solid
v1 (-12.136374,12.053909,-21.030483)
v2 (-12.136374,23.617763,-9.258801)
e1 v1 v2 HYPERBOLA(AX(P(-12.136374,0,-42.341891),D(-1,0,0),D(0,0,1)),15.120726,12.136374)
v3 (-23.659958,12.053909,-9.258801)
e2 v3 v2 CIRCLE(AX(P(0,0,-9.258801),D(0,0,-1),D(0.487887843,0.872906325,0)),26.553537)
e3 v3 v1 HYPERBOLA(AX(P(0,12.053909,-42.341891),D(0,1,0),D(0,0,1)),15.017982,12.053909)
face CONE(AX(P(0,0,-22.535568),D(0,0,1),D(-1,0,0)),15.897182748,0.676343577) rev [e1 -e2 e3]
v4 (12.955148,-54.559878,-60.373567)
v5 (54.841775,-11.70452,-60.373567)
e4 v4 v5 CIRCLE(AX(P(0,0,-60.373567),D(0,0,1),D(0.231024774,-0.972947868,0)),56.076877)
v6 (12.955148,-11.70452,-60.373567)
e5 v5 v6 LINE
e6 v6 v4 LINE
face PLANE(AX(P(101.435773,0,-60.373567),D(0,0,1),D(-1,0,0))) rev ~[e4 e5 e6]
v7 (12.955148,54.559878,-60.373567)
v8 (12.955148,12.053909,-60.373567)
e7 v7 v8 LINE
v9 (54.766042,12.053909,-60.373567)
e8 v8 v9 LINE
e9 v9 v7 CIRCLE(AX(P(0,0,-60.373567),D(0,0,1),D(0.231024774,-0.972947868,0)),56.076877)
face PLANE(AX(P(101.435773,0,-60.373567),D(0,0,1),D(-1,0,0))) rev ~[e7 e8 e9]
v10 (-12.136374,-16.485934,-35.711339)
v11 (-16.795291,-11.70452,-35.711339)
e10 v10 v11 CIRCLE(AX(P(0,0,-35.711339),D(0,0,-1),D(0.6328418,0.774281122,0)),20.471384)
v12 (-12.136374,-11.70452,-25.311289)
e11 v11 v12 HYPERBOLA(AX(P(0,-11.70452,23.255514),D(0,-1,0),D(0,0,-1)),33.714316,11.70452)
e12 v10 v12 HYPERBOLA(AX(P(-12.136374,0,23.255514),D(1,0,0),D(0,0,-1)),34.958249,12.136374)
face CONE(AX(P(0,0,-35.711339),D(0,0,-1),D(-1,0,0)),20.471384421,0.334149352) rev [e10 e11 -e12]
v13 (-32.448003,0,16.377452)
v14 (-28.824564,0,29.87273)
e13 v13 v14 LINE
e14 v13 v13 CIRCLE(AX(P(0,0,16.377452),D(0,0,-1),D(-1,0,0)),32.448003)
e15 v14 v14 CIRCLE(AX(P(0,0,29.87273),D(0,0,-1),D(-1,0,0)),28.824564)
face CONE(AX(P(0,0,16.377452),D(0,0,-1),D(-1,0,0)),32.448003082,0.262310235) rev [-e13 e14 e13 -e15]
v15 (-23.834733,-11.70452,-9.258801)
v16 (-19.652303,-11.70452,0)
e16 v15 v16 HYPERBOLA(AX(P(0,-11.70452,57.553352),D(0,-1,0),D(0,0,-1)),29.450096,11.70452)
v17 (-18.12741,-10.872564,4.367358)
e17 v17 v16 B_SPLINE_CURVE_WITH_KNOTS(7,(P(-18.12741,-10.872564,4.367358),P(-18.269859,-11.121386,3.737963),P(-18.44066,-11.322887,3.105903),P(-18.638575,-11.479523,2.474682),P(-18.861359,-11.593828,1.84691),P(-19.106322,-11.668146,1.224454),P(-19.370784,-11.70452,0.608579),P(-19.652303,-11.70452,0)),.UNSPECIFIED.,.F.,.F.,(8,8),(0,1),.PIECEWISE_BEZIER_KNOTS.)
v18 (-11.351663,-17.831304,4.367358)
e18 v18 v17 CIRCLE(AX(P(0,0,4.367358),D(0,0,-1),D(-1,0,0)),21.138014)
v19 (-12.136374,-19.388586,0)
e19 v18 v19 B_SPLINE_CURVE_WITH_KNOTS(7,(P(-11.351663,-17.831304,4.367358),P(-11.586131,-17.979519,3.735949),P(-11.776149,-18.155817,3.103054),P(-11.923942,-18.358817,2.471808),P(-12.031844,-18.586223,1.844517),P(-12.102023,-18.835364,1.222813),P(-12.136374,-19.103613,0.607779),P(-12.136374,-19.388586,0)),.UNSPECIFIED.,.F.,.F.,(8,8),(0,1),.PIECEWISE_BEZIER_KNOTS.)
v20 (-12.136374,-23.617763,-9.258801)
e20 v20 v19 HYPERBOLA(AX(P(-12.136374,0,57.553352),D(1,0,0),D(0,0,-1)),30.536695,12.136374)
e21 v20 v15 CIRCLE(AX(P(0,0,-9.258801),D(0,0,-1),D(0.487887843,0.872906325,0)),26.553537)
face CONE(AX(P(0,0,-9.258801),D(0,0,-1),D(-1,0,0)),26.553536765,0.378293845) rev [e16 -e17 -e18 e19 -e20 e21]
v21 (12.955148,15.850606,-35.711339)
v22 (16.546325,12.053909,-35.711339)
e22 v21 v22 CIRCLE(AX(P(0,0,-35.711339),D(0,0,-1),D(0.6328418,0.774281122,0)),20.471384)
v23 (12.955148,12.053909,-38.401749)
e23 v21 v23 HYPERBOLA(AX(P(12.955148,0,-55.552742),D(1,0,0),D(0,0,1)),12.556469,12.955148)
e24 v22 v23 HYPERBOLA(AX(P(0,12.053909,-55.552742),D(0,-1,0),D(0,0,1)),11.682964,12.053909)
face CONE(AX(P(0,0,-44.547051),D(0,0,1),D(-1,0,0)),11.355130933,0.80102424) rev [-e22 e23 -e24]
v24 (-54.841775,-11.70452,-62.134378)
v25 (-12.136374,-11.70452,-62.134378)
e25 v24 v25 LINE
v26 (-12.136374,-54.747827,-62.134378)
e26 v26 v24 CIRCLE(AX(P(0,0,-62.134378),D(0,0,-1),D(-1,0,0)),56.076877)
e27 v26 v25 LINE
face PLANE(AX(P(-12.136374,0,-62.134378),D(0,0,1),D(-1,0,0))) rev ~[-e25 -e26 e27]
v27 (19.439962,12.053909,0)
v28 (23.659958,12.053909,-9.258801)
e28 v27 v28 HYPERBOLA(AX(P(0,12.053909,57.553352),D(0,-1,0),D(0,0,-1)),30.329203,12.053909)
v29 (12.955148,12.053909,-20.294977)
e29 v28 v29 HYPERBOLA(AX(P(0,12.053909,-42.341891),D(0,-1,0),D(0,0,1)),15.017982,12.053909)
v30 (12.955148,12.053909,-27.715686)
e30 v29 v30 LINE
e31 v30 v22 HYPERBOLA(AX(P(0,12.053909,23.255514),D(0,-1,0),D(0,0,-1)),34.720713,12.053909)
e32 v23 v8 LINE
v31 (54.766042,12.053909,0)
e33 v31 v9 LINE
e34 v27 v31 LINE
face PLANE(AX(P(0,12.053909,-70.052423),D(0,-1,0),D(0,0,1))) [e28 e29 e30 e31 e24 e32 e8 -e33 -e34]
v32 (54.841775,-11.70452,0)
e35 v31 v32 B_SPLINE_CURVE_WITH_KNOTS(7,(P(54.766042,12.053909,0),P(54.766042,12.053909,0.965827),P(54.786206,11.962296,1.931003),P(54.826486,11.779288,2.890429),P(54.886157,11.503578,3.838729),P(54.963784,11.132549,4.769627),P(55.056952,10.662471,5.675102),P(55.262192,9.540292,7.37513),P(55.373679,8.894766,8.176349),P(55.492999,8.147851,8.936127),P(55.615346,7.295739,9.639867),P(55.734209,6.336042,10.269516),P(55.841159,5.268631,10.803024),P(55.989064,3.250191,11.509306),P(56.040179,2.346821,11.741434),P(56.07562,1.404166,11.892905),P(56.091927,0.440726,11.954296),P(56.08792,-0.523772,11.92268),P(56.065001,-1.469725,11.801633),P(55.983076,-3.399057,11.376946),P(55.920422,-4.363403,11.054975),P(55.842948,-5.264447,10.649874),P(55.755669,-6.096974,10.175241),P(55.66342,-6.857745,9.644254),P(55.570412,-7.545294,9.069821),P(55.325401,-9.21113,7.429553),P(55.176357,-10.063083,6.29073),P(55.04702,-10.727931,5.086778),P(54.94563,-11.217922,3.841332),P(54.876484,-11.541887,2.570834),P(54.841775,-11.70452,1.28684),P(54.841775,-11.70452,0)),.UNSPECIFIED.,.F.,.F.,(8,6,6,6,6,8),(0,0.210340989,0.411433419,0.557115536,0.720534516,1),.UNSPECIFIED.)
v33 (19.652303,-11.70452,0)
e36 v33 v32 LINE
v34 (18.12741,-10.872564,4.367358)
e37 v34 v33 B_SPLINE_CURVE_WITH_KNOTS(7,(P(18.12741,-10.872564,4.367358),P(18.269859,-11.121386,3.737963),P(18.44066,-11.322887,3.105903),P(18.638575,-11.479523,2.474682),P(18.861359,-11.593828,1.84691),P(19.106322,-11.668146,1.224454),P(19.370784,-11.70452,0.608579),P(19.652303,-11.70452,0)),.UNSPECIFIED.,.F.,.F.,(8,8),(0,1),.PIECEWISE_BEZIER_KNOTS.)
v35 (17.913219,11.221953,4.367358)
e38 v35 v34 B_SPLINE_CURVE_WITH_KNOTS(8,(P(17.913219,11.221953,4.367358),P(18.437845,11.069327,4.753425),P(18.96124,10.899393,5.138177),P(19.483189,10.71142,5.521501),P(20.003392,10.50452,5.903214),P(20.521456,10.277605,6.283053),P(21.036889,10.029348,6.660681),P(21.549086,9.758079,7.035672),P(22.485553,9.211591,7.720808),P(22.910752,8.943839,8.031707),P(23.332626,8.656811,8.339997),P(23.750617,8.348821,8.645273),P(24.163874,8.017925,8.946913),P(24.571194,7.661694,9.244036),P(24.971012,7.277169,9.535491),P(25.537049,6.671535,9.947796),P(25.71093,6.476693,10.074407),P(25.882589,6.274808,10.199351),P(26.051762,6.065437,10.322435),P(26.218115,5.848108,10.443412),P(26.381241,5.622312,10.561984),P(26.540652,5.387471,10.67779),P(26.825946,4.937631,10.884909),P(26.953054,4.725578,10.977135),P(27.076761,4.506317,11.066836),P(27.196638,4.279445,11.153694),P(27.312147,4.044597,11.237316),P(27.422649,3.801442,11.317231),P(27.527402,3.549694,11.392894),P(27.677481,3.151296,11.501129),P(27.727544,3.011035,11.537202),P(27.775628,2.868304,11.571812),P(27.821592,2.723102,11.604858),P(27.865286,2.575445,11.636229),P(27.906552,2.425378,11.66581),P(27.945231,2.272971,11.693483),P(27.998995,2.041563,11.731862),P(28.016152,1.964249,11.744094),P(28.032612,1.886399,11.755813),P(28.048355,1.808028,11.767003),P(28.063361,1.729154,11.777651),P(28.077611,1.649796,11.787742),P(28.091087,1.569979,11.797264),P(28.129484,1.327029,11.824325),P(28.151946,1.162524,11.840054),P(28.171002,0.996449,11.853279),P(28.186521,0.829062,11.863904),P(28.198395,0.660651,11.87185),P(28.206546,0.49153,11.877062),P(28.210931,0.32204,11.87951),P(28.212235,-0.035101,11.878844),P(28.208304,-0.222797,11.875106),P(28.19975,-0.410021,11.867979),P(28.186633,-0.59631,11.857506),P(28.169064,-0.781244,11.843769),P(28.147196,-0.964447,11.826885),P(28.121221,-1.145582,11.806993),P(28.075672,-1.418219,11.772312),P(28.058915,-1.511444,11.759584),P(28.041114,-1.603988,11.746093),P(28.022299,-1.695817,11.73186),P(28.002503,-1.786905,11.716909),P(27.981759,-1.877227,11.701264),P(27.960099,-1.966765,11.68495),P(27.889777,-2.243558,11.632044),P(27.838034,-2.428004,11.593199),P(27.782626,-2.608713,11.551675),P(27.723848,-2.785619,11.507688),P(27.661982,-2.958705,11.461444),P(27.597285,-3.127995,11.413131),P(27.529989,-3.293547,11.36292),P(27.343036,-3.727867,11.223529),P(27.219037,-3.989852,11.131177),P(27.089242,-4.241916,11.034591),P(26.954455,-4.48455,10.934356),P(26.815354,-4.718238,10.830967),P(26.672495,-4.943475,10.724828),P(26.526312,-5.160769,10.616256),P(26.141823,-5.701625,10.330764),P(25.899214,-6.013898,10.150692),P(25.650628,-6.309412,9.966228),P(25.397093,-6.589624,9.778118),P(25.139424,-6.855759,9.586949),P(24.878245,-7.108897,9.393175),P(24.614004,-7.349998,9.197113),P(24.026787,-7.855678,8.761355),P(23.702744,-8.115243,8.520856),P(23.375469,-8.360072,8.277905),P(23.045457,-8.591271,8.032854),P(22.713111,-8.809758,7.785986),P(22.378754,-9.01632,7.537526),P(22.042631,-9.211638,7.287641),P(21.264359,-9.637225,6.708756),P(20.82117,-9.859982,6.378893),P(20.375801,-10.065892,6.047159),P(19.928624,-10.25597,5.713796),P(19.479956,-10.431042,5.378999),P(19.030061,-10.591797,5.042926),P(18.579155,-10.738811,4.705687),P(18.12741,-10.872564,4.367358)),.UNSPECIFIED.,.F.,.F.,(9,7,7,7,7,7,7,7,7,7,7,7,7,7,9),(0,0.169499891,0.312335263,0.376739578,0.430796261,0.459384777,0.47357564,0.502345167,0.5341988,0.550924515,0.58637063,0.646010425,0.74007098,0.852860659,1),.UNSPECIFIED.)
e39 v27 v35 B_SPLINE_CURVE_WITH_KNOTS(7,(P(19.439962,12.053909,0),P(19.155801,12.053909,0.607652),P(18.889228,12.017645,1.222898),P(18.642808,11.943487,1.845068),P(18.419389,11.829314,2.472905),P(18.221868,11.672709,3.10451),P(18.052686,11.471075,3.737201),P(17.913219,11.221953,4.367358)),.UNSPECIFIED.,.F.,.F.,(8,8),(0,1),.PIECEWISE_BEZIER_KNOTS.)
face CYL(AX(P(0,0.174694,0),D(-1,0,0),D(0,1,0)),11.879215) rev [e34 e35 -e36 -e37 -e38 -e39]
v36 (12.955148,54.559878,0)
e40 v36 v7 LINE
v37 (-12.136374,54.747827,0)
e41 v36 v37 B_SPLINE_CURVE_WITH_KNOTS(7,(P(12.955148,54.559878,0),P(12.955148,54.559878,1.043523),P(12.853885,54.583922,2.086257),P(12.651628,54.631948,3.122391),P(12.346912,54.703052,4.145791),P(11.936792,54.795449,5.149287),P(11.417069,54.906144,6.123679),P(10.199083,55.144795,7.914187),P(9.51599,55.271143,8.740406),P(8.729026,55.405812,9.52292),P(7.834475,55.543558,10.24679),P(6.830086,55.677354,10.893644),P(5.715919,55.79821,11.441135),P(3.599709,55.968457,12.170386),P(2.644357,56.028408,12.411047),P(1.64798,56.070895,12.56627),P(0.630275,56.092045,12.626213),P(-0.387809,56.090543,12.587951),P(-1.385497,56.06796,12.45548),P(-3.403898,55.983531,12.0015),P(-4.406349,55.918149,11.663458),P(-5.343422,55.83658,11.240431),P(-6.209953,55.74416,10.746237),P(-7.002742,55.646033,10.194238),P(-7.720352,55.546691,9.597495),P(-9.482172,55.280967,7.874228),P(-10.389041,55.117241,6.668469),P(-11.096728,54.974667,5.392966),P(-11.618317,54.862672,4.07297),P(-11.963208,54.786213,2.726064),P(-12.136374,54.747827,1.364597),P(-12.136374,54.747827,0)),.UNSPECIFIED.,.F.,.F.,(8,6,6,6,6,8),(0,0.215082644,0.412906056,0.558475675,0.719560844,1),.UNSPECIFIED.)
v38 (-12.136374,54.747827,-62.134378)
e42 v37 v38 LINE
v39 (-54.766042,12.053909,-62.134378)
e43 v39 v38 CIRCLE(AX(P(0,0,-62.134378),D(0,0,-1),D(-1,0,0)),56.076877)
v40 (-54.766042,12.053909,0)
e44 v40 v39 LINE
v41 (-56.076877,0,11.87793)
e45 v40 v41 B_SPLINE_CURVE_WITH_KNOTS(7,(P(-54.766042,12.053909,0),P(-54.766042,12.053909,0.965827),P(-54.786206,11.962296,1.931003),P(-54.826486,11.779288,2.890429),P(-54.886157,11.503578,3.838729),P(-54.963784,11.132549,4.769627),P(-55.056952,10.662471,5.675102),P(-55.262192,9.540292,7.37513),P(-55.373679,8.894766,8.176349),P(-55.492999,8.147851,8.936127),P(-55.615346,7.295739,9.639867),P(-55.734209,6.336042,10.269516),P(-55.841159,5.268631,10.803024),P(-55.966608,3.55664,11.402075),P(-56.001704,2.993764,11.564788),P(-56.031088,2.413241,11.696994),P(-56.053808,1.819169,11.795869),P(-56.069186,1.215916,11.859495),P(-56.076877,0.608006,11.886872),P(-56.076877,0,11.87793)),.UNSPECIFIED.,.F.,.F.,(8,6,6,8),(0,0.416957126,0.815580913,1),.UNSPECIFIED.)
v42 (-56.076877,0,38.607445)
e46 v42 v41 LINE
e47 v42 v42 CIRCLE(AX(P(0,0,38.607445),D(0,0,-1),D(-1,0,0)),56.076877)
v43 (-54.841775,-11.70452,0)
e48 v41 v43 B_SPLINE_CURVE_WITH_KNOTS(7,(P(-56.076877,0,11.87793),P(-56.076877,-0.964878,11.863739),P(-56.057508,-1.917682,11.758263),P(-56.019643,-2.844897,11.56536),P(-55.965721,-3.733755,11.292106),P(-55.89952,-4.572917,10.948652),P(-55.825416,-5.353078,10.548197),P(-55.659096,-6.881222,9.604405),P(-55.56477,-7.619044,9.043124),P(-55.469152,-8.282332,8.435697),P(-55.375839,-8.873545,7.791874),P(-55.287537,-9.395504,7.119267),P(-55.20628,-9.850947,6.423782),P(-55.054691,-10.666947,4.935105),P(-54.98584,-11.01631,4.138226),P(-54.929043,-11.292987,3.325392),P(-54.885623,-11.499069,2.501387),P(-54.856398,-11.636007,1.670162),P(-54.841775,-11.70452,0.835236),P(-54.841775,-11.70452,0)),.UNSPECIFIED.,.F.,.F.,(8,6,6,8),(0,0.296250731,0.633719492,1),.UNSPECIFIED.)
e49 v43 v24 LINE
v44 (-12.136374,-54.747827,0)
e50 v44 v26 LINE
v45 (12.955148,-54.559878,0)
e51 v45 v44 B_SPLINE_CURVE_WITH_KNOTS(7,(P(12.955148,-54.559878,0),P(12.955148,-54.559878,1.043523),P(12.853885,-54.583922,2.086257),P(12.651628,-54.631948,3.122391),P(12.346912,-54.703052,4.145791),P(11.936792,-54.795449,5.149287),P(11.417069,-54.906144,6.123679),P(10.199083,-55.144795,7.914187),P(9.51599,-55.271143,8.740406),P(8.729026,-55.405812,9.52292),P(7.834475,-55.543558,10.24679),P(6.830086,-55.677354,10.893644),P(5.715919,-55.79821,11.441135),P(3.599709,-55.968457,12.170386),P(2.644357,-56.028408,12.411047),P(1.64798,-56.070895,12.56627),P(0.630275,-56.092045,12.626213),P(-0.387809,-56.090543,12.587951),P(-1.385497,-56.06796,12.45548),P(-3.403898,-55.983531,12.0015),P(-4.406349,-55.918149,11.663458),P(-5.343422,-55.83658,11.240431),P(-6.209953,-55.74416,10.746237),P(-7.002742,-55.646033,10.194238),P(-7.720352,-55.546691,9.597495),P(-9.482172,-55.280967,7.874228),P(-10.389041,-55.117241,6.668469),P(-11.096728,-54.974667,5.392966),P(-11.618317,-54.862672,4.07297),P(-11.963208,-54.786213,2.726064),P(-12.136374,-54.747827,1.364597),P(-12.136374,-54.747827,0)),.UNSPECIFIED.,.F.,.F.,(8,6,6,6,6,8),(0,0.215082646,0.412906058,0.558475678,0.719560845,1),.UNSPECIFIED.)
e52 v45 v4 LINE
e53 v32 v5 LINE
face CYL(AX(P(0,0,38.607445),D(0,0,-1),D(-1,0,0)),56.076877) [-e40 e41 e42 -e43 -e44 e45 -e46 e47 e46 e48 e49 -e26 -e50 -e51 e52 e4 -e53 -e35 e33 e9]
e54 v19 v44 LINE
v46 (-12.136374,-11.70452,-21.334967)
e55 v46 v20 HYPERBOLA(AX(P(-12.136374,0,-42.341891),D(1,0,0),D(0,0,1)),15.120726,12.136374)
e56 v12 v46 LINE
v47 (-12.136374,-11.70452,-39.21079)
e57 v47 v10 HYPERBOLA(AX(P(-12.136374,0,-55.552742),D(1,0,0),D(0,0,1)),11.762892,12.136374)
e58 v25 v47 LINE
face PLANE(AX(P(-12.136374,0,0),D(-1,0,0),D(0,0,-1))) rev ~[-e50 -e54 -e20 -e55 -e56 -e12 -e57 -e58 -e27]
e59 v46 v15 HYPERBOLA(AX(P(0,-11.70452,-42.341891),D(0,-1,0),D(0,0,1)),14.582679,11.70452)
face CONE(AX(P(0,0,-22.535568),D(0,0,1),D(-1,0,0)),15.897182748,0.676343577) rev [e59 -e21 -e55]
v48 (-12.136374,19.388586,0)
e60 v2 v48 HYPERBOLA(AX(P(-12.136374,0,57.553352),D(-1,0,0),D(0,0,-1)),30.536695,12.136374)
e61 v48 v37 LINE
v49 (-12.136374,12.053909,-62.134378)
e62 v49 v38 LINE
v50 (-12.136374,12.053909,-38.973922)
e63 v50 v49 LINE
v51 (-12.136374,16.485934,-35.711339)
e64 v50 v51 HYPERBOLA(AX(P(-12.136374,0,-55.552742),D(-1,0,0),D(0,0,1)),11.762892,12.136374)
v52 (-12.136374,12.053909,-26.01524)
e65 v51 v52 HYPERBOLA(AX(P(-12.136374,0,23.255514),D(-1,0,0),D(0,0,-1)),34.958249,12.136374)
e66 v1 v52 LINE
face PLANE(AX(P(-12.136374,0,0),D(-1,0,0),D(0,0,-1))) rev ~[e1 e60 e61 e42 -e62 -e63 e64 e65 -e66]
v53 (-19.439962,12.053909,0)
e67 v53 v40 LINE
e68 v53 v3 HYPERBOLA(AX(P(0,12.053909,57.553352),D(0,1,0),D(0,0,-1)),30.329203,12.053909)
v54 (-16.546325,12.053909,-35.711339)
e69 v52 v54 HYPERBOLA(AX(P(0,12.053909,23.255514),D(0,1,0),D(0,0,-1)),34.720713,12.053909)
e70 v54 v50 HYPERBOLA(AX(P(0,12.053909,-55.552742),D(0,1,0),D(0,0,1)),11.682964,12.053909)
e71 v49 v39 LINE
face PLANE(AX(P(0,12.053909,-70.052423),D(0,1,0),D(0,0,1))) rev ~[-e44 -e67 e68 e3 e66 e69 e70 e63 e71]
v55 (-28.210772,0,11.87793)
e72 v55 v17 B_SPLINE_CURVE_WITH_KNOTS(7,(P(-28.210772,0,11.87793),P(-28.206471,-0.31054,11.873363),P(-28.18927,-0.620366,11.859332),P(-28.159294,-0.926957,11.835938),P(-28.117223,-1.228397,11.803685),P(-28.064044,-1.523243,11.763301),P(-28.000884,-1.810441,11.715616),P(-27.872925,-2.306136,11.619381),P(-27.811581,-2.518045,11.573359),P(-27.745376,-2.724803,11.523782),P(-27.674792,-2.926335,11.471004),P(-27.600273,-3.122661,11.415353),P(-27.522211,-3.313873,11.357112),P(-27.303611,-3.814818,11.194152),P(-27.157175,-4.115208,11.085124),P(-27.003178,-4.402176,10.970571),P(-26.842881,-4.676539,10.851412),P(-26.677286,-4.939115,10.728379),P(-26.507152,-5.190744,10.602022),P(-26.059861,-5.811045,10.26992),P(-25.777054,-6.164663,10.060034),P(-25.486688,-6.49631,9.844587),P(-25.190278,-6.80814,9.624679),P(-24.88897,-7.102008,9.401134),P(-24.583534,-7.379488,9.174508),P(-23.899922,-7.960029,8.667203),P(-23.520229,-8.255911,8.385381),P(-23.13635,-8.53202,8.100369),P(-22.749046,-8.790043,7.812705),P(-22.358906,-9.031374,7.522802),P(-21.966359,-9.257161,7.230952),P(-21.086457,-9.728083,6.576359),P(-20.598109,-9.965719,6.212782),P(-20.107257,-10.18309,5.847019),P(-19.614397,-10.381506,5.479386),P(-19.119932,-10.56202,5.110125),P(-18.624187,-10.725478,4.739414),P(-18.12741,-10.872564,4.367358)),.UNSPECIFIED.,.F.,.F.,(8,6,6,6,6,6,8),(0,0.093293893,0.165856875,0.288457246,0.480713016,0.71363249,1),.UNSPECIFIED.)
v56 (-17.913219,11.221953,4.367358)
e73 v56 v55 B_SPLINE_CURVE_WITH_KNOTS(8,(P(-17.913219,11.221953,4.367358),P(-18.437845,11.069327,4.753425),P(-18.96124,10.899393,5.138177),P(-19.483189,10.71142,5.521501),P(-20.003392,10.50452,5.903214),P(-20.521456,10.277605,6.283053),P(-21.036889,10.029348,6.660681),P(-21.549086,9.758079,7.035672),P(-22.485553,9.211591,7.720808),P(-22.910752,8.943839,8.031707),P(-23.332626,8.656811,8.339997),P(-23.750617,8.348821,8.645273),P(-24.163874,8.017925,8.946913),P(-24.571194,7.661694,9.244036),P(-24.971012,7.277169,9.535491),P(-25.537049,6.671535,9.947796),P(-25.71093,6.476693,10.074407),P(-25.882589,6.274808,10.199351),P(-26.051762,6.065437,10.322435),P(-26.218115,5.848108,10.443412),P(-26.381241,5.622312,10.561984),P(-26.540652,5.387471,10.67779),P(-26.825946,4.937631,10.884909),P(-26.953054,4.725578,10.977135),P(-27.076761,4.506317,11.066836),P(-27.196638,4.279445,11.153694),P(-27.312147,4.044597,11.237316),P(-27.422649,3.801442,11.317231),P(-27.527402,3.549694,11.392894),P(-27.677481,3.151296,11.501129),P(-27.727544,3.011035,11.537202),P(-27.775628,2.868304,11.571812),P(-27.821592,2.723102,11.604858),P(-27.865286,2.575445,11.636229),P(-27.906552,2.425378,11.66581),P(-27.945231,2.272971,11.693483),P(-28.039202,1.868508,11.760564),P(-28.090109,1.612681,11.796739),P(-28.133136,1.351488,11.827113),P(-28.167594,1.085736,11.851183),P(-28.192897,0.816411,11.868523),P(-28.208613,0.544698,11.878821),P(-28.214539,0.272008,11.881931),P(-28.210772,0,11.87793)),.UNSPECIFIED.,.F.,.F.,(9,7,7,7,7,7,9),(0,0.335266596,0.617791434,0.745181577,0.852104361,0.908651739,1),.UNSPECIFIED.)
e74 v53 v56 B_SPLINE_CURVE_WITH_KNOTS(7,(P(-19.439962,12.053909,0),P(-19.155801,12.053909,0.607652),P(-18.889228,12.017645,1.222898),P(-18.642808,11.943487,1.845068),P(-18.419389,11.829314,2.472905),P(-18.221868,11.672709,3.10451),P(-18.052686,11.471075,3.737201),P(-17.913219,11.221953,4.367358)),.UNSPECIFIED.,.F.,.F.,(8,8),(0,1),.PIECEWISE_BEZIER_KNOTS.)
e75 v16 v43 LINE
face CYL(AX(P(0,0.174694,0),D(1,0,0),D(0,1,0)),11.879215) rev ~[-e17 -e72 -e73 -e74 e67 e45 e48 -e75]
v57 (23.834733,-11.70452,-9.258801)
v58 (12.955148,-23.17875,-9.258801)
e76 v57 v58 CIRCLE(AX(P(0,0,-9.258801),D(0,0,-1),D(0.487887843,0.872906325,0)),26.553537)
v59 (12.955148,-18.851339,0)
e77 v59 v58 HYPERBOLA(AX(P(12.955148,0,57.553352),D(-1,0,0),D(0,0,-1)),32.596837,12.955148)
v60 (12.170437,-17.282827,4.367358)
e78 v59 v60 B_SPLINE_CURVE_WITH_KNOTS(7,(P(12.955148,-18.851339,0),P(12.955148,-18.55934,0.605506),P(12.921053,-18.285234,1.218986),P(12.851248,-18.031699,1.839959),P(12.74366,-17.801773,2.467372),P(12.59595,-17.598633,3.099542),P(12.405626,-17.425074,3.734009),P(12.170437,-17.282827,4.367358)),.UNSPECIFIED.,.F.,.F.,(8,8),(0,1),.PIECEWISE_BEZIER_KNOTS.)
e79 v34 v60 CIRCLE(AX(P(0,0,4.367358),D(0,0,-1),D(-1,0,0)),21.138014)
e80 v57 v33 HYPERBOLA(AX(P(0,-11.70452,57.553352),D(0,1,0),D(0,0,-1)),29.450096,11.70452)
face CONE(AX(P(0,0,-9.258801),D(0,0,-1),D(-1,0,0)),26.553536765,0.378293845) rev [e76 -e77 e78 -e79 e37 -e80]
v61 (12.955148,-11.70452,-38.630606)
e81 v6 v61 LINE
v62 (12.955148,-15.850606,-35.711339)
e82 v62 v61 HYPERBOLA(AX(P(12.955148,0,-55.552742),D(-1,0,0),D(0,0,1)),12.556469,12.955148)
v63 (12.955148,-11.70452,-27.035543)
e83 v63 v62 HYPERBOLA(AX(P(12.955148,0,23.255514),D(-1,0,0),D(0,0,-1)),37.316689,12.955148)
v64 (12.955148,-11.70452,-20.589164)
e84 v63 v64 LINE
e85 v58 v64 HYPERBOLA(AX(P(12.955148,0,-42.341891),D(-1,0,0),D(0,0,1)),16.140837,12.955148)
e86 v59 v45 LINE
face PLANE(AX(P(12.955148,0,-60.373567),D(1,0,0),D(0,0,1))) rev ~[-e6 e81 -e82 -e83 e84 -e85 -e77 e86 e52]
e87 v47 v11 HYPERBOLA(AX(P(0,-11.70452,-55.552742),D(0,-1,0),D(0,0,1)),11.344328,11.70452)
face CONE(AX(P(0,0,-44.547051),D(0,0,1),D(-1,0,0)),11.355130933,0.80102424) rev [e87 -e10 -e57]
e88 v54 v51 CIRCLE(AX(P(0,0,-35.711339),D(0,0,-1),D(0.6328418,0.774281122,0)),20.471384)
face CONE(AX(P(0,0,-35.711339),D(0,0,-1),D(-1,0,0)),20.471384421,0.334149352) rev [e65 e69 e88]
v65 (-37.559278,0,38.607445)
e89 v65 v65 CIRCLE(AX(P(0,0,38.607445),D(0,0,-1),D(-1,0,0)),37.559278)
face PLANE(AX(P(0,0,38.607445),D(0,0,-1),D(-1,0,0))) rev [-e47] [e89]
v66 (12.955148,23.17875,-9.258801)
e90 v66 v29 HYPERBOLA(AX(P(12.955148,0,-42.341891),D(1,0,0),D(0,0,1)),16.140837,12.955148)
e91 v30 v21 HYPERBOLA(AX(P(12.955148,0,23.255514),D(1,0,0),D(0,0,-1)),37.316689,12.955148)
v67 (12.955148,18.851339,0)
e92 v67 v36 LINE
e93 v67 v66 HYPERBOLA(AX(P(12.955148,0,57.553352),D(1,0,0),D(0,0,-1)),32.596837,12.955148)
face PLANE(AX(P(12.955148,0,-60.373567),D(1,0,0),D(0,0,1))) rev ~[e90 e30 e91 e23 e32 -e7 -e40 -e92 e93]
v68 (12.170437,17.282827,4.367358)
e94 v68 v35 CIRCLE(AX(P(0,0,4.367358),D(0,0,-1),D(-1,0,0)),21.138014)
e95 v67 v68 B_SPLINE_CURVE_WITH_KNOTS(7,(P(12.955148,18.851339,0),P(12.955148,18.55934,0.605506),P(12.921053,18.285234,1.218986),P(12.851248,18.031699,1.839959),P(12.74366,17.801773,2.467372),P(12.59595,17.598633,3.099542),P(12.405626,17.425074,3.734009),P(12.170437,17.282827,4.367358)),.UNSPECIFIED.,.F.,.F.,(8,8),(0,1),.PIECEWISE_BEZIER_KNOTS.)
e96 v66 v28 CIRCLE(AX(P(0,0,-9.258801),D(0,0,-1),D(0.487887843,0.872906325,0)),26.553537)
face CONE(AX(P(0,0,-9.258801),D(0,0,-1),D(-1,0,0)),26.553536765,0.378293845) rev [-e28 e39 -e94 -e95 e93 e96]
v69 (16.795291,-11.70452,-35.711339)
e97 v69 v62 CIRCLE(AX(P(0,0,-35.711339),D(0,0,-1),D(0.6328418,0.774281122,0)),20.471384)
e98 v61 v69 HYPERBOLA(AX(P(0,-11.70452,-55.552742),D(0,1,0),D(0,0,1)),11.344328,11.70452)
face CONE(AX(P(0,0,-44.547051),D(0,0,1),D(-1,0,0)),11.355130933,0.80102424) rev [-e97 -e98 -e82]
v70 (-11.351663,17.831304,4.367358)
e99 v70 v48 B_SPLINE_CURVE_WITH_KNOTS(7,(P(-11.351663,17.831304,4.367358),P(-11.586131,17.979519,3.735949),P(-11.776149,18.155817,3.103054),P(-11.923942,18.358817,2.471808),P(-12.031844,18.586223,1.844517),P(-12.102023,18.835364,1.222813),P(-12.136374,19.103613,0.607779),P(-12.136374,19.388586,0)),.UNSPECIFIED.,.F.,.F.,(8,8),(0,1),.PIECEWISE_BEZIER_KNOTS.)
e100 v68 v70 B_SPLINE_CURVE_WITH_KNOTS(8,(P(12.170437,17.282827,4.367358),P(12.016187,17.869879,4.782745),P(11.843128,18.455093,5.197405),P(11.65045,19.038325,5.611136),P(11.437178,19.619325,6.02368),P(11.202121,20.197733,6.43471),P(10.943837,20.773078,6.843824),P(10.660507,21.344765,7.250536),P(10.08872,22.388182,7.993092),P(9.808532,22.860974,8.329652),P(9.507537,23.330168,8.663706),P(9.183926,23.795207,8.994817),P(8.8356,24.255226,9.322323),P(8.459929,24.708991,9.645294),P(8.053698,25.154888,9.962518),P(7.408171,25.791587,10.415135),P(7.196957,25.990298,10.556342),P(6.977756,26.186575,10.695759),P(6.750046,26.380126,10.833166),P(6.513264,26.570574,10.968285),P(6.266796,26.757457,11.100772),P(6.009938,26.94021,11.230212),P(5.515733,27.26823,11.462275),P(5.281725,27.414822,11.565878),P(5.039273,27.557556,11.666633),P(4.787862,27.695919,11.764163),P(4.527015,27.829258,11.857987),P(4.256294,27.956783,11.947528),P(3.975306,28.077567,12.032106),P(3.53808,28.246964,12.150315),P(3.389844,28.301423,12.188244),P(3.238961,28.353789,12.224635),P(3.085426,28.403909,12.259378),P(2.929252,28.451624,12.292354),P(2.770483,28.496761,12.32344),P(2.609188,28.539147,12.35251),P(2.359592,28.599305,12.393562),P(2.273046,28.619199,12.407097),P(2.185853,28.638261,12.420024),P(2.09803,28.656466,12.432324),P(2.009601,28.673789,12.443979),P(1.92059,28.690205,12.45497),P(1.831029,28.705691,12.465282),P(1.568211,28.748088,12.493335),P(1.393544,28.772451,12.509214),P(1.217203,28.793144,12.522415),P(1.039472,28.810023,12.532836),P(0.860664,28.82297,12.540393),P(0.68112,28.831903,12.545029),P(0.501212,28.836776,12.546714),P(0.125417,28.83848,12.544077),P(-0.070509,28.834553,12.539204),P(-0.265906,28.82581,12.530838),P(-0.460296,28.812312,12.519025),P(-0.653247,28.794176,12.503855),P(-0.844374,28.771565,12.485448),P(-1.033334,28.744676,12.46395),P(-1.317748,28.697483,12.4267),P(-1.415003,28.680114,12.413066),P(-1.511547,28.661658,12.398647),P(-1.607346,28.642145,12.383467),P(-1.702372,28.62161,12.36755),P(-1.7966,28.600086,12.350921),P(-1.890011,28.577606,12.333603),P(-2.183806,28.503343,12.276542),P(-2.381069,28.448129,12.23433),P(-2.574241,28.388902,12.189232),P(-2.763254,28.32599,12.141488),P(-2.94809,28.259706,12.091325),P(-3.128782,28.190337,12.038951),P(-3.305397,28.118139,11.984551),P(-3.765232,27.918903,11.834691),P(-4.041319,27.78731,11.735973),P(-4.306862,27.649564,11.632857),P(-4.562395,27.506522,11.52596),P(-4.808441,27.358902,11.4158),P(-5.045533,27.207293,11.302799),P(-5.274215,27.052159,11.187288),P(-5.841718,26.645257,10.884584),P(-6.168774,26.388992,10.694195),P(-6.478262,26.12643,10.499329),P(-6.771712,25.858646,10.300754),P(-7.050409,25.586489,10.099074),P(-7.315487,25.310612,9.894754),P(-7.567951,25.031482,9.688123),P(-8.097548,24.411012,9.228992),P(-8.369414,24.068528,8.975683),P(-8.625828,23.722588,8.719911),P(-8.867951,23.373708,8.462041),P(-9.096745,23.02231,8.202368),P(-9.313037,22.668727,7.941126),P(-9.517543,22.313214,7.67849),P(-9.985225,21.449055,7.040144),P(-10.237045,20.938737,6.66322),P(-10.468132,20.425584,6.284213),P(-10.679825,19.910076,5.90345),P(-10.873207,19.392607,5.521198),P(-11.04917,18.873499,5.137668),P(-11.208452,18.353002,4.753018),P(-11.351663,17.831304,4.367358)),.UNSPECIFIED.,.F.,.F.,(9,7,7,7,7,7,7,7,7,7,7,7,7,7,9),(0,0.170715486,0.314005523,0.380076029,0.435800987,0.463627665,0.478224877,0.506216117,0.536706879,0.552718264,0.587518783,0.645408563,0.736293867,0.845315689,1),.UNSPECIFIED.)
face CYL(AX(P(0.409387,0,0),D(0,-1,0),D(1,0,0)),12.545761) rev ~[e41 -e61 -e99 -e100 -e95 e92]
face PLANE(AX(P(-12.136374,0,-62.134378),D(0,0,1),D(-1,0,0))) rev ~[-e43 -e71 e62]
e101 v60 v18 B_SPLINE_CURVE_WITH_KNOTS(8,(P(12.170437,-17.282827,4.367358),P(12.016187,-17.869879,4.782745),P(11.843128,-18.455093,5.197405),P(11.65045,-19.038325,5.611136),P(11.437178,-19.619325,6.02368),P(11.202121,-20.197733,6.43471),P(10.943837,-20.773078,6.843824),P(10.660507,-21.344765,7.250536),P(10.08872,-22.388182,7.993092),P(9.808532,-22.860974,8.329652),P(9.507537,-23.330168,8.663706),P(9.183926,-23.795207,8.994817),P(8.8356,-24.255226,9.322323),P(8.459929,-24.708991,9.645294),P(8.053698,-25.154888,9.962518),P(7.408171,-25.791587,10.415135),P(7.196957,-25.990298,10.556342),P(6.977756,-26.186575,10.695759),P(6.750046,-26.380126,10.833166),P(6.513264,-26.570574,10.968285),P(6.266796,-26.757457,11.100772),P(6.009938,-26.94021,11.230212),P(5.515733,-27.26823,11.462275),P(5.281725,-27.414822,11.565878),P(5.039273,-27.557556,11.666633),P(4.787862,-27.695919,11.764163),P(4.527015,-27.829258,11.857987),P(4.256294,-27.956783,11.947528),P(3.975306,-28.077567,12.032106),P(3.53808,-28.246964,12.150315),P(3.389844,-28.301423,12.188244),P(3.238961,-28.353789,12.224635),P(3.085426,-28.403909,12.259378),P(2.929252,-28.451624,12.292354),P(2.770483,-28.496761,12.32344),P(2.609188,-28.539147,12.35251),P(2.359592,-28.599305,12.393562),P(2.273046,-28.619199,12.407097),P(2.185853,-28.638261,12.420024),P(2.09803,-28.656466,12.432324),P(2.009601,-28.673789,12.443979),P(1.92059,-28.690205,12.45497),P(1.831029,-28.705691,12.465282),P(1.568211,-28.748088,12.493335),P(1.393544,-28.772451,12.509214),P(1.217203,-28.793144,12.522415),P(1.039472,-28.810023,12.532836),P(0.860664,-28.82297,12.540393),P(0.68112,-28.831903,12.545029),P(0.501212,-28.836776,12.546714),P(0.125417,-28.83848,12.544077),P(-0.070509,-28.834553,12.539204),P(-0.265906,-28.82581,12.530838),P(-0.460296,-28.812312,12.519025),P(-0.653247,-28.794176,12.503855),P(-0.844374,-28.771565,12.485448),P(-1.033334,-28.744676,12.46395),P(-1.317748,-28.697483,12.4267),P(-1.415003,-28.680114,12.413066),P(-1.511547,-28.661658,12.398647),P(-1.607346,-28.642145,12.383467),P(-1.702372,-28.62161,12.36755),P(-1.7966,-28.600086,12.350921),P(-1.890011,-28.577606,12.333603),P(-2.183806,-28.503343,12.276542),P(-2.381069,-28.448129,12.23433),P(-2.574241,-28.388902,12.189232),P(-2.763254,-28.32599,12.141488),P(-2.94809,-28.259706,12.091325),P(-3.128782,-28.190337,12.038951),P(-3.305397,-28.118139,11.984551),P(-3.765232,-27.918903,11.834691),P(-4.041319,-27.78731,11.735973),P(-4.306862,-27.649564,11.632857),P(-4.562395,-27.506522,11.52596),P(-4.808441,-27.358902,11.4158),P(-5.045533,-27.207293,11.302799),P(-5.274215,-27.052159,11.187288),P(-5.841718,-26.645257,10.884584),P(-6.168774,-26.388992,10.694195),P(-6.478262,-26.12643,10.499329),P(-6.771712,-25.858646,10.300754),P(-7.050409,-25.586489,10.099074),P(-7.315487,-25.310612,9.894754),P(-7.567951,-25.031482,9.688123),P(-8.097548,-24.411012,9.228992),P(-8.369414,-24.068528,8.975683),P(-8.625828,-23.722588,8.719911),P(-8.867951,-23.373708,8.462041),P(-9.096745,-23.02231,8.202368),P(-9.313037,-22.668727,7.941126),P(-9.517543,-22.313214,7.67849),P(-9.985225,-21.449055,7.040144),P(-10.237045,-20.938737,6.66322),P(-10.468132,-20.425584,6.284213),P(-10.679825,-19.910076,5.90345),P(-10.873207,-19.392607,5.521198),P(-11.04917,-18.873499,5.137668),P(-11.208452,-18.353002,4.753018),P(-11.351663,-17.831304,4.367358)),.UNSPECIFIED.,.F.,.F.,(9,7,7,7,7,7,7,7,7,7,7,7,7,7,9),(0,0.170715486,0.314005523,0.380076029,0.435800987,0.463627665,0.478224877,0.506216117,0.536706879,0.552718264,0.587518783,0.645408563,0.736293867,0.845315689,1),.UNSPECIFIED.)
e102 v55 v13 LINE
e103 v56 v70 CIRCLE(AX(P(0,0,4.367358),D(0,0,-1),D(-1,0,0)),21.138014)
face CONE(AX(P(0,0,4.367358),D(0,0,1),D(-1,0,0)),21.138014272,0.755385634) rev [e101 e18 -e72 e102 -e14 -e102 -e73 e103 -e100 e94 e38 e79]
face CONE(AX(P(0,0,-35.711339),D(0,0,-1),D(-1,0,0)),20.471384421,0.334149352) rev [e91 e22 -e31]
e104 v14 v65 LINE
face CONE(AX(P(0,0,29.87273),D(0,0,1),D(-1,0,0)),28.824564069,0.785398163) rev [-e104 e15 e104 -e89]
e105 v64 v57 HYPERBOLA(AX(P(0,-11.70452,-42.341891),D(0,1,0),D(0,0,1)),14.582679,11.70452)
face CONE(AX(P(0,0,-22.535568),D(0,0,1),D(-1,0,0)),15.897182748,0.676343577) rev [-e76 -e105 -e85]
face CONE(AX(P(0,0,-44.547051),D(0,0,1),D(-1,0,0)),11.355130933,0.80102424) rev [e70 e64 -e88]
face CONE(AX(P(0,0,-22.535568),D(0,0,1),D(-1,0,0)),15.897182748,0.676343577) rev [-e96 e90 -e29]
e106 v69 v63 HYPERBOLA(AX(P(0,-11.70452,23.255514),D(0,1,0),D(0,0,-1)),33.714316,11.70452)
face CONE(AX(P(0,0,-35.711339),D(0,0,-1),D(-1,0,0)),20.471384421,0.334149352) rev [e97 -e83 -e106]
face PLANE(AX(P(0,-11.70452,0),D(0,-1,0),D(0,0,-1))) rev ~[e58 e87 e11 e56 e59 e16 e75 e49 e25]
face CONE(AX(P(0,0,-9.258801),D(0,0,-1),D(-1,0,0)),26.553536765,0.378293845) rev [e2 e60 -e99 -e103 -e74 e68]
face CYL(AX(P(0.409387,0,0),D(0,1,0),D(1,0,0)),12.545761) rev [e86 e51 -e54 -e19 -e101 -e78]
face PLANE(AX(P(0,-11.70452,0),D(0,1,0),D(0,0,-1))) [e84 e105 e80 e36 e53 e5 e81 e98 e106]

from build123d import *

# Parameters (mm, degrees)
F3_DEPTH      = 56.0778768191
F3_DEPTH_BACK = 56.0778768191
F5_DEPTH      = 56.0778769191
F5_DEPTH_BACK = 56.0778769191


with BuildPart() as f1:
    # F0 (on Front) → F1 (revolve)
    with BuildSketch(Plane.XZ):
        Polygon((0, -57.1250468493), (-15.5477952212, -57.1250468493), (-11.3551309332, -44.5470511913), (-20.4713844212, -35.7113393235), (-15.8971827477, -22.5355681032), (-26.5535367653, -9.2588011175), (-21.1380142719, 4.3673580512), (-32.4480030819, 16.3774517456), (-28.8245640695, 29.8727303743), (-37.5592783093, 38.6074446142), (-56.0768768191, 38.6074446142), (-56.0768768191, -72.1487551928), (0, -72.1487551928), align=None)
    revolve(axis=Axis((0, 0, -64.636901021), (0, 0, -1)))

    # F2 (on Front) → F3 (cut, two sides)
    with BuildSketch(Plane.XZ) as f3_sk:
        Polygon((-81.2481045723, -62.1343776584), (-79.4872939587, -92.5083234906), (101.4357730746, -92.5083234906), (101.4357730746, -60.3735670447), (12.955147773, -60.3735670447), (12.955147773, 0), (-12.1363736689, 0), (-12.1363736689, -62.1343776584), align=None)
        with BuildLine():
            ThreePointArc((12.955147773, 0), (0.4093870521, 12.545760721), (-12.1363736689, 0))
            Line((-12.1363736689, 0), (12.955147773, 0))
        make_face()
    extrude(amount=-F3_DEPTH, mode=Mode.SUBTRACT)
    extrude(f3_sk.sketch, amount=F3_DEPTH_BACK, mode=Mode.SUBTRACT)

    # F4 (on Right) → F5 (cut, two sides)
    with BuildSketch(Plane.YZ) as f5_sk:
        with BuildLine():
            Line((12.0539087802, -70.0524225831), (12.0539087802, 0))
            ThreePointArc((12.0539087802, 0), (0.1746942289, 11.8792145513), (-11.7045203224, 0))
            Line((-11.7045203224, 0), (-11.7045203224, -70.0524225831))
            Line((-11.7045203224, -70.0524225831), (12.0539087802, -70.0524225831))
        make_face()
    extrude(amount=-F5_DEPTH, mode=Mode.SUBTRACT)
    extrude(f5_sk.sketch, amount=F5_DEPTH_BACK, mode=Mode.SUBTRACT)


solid = f1.part
